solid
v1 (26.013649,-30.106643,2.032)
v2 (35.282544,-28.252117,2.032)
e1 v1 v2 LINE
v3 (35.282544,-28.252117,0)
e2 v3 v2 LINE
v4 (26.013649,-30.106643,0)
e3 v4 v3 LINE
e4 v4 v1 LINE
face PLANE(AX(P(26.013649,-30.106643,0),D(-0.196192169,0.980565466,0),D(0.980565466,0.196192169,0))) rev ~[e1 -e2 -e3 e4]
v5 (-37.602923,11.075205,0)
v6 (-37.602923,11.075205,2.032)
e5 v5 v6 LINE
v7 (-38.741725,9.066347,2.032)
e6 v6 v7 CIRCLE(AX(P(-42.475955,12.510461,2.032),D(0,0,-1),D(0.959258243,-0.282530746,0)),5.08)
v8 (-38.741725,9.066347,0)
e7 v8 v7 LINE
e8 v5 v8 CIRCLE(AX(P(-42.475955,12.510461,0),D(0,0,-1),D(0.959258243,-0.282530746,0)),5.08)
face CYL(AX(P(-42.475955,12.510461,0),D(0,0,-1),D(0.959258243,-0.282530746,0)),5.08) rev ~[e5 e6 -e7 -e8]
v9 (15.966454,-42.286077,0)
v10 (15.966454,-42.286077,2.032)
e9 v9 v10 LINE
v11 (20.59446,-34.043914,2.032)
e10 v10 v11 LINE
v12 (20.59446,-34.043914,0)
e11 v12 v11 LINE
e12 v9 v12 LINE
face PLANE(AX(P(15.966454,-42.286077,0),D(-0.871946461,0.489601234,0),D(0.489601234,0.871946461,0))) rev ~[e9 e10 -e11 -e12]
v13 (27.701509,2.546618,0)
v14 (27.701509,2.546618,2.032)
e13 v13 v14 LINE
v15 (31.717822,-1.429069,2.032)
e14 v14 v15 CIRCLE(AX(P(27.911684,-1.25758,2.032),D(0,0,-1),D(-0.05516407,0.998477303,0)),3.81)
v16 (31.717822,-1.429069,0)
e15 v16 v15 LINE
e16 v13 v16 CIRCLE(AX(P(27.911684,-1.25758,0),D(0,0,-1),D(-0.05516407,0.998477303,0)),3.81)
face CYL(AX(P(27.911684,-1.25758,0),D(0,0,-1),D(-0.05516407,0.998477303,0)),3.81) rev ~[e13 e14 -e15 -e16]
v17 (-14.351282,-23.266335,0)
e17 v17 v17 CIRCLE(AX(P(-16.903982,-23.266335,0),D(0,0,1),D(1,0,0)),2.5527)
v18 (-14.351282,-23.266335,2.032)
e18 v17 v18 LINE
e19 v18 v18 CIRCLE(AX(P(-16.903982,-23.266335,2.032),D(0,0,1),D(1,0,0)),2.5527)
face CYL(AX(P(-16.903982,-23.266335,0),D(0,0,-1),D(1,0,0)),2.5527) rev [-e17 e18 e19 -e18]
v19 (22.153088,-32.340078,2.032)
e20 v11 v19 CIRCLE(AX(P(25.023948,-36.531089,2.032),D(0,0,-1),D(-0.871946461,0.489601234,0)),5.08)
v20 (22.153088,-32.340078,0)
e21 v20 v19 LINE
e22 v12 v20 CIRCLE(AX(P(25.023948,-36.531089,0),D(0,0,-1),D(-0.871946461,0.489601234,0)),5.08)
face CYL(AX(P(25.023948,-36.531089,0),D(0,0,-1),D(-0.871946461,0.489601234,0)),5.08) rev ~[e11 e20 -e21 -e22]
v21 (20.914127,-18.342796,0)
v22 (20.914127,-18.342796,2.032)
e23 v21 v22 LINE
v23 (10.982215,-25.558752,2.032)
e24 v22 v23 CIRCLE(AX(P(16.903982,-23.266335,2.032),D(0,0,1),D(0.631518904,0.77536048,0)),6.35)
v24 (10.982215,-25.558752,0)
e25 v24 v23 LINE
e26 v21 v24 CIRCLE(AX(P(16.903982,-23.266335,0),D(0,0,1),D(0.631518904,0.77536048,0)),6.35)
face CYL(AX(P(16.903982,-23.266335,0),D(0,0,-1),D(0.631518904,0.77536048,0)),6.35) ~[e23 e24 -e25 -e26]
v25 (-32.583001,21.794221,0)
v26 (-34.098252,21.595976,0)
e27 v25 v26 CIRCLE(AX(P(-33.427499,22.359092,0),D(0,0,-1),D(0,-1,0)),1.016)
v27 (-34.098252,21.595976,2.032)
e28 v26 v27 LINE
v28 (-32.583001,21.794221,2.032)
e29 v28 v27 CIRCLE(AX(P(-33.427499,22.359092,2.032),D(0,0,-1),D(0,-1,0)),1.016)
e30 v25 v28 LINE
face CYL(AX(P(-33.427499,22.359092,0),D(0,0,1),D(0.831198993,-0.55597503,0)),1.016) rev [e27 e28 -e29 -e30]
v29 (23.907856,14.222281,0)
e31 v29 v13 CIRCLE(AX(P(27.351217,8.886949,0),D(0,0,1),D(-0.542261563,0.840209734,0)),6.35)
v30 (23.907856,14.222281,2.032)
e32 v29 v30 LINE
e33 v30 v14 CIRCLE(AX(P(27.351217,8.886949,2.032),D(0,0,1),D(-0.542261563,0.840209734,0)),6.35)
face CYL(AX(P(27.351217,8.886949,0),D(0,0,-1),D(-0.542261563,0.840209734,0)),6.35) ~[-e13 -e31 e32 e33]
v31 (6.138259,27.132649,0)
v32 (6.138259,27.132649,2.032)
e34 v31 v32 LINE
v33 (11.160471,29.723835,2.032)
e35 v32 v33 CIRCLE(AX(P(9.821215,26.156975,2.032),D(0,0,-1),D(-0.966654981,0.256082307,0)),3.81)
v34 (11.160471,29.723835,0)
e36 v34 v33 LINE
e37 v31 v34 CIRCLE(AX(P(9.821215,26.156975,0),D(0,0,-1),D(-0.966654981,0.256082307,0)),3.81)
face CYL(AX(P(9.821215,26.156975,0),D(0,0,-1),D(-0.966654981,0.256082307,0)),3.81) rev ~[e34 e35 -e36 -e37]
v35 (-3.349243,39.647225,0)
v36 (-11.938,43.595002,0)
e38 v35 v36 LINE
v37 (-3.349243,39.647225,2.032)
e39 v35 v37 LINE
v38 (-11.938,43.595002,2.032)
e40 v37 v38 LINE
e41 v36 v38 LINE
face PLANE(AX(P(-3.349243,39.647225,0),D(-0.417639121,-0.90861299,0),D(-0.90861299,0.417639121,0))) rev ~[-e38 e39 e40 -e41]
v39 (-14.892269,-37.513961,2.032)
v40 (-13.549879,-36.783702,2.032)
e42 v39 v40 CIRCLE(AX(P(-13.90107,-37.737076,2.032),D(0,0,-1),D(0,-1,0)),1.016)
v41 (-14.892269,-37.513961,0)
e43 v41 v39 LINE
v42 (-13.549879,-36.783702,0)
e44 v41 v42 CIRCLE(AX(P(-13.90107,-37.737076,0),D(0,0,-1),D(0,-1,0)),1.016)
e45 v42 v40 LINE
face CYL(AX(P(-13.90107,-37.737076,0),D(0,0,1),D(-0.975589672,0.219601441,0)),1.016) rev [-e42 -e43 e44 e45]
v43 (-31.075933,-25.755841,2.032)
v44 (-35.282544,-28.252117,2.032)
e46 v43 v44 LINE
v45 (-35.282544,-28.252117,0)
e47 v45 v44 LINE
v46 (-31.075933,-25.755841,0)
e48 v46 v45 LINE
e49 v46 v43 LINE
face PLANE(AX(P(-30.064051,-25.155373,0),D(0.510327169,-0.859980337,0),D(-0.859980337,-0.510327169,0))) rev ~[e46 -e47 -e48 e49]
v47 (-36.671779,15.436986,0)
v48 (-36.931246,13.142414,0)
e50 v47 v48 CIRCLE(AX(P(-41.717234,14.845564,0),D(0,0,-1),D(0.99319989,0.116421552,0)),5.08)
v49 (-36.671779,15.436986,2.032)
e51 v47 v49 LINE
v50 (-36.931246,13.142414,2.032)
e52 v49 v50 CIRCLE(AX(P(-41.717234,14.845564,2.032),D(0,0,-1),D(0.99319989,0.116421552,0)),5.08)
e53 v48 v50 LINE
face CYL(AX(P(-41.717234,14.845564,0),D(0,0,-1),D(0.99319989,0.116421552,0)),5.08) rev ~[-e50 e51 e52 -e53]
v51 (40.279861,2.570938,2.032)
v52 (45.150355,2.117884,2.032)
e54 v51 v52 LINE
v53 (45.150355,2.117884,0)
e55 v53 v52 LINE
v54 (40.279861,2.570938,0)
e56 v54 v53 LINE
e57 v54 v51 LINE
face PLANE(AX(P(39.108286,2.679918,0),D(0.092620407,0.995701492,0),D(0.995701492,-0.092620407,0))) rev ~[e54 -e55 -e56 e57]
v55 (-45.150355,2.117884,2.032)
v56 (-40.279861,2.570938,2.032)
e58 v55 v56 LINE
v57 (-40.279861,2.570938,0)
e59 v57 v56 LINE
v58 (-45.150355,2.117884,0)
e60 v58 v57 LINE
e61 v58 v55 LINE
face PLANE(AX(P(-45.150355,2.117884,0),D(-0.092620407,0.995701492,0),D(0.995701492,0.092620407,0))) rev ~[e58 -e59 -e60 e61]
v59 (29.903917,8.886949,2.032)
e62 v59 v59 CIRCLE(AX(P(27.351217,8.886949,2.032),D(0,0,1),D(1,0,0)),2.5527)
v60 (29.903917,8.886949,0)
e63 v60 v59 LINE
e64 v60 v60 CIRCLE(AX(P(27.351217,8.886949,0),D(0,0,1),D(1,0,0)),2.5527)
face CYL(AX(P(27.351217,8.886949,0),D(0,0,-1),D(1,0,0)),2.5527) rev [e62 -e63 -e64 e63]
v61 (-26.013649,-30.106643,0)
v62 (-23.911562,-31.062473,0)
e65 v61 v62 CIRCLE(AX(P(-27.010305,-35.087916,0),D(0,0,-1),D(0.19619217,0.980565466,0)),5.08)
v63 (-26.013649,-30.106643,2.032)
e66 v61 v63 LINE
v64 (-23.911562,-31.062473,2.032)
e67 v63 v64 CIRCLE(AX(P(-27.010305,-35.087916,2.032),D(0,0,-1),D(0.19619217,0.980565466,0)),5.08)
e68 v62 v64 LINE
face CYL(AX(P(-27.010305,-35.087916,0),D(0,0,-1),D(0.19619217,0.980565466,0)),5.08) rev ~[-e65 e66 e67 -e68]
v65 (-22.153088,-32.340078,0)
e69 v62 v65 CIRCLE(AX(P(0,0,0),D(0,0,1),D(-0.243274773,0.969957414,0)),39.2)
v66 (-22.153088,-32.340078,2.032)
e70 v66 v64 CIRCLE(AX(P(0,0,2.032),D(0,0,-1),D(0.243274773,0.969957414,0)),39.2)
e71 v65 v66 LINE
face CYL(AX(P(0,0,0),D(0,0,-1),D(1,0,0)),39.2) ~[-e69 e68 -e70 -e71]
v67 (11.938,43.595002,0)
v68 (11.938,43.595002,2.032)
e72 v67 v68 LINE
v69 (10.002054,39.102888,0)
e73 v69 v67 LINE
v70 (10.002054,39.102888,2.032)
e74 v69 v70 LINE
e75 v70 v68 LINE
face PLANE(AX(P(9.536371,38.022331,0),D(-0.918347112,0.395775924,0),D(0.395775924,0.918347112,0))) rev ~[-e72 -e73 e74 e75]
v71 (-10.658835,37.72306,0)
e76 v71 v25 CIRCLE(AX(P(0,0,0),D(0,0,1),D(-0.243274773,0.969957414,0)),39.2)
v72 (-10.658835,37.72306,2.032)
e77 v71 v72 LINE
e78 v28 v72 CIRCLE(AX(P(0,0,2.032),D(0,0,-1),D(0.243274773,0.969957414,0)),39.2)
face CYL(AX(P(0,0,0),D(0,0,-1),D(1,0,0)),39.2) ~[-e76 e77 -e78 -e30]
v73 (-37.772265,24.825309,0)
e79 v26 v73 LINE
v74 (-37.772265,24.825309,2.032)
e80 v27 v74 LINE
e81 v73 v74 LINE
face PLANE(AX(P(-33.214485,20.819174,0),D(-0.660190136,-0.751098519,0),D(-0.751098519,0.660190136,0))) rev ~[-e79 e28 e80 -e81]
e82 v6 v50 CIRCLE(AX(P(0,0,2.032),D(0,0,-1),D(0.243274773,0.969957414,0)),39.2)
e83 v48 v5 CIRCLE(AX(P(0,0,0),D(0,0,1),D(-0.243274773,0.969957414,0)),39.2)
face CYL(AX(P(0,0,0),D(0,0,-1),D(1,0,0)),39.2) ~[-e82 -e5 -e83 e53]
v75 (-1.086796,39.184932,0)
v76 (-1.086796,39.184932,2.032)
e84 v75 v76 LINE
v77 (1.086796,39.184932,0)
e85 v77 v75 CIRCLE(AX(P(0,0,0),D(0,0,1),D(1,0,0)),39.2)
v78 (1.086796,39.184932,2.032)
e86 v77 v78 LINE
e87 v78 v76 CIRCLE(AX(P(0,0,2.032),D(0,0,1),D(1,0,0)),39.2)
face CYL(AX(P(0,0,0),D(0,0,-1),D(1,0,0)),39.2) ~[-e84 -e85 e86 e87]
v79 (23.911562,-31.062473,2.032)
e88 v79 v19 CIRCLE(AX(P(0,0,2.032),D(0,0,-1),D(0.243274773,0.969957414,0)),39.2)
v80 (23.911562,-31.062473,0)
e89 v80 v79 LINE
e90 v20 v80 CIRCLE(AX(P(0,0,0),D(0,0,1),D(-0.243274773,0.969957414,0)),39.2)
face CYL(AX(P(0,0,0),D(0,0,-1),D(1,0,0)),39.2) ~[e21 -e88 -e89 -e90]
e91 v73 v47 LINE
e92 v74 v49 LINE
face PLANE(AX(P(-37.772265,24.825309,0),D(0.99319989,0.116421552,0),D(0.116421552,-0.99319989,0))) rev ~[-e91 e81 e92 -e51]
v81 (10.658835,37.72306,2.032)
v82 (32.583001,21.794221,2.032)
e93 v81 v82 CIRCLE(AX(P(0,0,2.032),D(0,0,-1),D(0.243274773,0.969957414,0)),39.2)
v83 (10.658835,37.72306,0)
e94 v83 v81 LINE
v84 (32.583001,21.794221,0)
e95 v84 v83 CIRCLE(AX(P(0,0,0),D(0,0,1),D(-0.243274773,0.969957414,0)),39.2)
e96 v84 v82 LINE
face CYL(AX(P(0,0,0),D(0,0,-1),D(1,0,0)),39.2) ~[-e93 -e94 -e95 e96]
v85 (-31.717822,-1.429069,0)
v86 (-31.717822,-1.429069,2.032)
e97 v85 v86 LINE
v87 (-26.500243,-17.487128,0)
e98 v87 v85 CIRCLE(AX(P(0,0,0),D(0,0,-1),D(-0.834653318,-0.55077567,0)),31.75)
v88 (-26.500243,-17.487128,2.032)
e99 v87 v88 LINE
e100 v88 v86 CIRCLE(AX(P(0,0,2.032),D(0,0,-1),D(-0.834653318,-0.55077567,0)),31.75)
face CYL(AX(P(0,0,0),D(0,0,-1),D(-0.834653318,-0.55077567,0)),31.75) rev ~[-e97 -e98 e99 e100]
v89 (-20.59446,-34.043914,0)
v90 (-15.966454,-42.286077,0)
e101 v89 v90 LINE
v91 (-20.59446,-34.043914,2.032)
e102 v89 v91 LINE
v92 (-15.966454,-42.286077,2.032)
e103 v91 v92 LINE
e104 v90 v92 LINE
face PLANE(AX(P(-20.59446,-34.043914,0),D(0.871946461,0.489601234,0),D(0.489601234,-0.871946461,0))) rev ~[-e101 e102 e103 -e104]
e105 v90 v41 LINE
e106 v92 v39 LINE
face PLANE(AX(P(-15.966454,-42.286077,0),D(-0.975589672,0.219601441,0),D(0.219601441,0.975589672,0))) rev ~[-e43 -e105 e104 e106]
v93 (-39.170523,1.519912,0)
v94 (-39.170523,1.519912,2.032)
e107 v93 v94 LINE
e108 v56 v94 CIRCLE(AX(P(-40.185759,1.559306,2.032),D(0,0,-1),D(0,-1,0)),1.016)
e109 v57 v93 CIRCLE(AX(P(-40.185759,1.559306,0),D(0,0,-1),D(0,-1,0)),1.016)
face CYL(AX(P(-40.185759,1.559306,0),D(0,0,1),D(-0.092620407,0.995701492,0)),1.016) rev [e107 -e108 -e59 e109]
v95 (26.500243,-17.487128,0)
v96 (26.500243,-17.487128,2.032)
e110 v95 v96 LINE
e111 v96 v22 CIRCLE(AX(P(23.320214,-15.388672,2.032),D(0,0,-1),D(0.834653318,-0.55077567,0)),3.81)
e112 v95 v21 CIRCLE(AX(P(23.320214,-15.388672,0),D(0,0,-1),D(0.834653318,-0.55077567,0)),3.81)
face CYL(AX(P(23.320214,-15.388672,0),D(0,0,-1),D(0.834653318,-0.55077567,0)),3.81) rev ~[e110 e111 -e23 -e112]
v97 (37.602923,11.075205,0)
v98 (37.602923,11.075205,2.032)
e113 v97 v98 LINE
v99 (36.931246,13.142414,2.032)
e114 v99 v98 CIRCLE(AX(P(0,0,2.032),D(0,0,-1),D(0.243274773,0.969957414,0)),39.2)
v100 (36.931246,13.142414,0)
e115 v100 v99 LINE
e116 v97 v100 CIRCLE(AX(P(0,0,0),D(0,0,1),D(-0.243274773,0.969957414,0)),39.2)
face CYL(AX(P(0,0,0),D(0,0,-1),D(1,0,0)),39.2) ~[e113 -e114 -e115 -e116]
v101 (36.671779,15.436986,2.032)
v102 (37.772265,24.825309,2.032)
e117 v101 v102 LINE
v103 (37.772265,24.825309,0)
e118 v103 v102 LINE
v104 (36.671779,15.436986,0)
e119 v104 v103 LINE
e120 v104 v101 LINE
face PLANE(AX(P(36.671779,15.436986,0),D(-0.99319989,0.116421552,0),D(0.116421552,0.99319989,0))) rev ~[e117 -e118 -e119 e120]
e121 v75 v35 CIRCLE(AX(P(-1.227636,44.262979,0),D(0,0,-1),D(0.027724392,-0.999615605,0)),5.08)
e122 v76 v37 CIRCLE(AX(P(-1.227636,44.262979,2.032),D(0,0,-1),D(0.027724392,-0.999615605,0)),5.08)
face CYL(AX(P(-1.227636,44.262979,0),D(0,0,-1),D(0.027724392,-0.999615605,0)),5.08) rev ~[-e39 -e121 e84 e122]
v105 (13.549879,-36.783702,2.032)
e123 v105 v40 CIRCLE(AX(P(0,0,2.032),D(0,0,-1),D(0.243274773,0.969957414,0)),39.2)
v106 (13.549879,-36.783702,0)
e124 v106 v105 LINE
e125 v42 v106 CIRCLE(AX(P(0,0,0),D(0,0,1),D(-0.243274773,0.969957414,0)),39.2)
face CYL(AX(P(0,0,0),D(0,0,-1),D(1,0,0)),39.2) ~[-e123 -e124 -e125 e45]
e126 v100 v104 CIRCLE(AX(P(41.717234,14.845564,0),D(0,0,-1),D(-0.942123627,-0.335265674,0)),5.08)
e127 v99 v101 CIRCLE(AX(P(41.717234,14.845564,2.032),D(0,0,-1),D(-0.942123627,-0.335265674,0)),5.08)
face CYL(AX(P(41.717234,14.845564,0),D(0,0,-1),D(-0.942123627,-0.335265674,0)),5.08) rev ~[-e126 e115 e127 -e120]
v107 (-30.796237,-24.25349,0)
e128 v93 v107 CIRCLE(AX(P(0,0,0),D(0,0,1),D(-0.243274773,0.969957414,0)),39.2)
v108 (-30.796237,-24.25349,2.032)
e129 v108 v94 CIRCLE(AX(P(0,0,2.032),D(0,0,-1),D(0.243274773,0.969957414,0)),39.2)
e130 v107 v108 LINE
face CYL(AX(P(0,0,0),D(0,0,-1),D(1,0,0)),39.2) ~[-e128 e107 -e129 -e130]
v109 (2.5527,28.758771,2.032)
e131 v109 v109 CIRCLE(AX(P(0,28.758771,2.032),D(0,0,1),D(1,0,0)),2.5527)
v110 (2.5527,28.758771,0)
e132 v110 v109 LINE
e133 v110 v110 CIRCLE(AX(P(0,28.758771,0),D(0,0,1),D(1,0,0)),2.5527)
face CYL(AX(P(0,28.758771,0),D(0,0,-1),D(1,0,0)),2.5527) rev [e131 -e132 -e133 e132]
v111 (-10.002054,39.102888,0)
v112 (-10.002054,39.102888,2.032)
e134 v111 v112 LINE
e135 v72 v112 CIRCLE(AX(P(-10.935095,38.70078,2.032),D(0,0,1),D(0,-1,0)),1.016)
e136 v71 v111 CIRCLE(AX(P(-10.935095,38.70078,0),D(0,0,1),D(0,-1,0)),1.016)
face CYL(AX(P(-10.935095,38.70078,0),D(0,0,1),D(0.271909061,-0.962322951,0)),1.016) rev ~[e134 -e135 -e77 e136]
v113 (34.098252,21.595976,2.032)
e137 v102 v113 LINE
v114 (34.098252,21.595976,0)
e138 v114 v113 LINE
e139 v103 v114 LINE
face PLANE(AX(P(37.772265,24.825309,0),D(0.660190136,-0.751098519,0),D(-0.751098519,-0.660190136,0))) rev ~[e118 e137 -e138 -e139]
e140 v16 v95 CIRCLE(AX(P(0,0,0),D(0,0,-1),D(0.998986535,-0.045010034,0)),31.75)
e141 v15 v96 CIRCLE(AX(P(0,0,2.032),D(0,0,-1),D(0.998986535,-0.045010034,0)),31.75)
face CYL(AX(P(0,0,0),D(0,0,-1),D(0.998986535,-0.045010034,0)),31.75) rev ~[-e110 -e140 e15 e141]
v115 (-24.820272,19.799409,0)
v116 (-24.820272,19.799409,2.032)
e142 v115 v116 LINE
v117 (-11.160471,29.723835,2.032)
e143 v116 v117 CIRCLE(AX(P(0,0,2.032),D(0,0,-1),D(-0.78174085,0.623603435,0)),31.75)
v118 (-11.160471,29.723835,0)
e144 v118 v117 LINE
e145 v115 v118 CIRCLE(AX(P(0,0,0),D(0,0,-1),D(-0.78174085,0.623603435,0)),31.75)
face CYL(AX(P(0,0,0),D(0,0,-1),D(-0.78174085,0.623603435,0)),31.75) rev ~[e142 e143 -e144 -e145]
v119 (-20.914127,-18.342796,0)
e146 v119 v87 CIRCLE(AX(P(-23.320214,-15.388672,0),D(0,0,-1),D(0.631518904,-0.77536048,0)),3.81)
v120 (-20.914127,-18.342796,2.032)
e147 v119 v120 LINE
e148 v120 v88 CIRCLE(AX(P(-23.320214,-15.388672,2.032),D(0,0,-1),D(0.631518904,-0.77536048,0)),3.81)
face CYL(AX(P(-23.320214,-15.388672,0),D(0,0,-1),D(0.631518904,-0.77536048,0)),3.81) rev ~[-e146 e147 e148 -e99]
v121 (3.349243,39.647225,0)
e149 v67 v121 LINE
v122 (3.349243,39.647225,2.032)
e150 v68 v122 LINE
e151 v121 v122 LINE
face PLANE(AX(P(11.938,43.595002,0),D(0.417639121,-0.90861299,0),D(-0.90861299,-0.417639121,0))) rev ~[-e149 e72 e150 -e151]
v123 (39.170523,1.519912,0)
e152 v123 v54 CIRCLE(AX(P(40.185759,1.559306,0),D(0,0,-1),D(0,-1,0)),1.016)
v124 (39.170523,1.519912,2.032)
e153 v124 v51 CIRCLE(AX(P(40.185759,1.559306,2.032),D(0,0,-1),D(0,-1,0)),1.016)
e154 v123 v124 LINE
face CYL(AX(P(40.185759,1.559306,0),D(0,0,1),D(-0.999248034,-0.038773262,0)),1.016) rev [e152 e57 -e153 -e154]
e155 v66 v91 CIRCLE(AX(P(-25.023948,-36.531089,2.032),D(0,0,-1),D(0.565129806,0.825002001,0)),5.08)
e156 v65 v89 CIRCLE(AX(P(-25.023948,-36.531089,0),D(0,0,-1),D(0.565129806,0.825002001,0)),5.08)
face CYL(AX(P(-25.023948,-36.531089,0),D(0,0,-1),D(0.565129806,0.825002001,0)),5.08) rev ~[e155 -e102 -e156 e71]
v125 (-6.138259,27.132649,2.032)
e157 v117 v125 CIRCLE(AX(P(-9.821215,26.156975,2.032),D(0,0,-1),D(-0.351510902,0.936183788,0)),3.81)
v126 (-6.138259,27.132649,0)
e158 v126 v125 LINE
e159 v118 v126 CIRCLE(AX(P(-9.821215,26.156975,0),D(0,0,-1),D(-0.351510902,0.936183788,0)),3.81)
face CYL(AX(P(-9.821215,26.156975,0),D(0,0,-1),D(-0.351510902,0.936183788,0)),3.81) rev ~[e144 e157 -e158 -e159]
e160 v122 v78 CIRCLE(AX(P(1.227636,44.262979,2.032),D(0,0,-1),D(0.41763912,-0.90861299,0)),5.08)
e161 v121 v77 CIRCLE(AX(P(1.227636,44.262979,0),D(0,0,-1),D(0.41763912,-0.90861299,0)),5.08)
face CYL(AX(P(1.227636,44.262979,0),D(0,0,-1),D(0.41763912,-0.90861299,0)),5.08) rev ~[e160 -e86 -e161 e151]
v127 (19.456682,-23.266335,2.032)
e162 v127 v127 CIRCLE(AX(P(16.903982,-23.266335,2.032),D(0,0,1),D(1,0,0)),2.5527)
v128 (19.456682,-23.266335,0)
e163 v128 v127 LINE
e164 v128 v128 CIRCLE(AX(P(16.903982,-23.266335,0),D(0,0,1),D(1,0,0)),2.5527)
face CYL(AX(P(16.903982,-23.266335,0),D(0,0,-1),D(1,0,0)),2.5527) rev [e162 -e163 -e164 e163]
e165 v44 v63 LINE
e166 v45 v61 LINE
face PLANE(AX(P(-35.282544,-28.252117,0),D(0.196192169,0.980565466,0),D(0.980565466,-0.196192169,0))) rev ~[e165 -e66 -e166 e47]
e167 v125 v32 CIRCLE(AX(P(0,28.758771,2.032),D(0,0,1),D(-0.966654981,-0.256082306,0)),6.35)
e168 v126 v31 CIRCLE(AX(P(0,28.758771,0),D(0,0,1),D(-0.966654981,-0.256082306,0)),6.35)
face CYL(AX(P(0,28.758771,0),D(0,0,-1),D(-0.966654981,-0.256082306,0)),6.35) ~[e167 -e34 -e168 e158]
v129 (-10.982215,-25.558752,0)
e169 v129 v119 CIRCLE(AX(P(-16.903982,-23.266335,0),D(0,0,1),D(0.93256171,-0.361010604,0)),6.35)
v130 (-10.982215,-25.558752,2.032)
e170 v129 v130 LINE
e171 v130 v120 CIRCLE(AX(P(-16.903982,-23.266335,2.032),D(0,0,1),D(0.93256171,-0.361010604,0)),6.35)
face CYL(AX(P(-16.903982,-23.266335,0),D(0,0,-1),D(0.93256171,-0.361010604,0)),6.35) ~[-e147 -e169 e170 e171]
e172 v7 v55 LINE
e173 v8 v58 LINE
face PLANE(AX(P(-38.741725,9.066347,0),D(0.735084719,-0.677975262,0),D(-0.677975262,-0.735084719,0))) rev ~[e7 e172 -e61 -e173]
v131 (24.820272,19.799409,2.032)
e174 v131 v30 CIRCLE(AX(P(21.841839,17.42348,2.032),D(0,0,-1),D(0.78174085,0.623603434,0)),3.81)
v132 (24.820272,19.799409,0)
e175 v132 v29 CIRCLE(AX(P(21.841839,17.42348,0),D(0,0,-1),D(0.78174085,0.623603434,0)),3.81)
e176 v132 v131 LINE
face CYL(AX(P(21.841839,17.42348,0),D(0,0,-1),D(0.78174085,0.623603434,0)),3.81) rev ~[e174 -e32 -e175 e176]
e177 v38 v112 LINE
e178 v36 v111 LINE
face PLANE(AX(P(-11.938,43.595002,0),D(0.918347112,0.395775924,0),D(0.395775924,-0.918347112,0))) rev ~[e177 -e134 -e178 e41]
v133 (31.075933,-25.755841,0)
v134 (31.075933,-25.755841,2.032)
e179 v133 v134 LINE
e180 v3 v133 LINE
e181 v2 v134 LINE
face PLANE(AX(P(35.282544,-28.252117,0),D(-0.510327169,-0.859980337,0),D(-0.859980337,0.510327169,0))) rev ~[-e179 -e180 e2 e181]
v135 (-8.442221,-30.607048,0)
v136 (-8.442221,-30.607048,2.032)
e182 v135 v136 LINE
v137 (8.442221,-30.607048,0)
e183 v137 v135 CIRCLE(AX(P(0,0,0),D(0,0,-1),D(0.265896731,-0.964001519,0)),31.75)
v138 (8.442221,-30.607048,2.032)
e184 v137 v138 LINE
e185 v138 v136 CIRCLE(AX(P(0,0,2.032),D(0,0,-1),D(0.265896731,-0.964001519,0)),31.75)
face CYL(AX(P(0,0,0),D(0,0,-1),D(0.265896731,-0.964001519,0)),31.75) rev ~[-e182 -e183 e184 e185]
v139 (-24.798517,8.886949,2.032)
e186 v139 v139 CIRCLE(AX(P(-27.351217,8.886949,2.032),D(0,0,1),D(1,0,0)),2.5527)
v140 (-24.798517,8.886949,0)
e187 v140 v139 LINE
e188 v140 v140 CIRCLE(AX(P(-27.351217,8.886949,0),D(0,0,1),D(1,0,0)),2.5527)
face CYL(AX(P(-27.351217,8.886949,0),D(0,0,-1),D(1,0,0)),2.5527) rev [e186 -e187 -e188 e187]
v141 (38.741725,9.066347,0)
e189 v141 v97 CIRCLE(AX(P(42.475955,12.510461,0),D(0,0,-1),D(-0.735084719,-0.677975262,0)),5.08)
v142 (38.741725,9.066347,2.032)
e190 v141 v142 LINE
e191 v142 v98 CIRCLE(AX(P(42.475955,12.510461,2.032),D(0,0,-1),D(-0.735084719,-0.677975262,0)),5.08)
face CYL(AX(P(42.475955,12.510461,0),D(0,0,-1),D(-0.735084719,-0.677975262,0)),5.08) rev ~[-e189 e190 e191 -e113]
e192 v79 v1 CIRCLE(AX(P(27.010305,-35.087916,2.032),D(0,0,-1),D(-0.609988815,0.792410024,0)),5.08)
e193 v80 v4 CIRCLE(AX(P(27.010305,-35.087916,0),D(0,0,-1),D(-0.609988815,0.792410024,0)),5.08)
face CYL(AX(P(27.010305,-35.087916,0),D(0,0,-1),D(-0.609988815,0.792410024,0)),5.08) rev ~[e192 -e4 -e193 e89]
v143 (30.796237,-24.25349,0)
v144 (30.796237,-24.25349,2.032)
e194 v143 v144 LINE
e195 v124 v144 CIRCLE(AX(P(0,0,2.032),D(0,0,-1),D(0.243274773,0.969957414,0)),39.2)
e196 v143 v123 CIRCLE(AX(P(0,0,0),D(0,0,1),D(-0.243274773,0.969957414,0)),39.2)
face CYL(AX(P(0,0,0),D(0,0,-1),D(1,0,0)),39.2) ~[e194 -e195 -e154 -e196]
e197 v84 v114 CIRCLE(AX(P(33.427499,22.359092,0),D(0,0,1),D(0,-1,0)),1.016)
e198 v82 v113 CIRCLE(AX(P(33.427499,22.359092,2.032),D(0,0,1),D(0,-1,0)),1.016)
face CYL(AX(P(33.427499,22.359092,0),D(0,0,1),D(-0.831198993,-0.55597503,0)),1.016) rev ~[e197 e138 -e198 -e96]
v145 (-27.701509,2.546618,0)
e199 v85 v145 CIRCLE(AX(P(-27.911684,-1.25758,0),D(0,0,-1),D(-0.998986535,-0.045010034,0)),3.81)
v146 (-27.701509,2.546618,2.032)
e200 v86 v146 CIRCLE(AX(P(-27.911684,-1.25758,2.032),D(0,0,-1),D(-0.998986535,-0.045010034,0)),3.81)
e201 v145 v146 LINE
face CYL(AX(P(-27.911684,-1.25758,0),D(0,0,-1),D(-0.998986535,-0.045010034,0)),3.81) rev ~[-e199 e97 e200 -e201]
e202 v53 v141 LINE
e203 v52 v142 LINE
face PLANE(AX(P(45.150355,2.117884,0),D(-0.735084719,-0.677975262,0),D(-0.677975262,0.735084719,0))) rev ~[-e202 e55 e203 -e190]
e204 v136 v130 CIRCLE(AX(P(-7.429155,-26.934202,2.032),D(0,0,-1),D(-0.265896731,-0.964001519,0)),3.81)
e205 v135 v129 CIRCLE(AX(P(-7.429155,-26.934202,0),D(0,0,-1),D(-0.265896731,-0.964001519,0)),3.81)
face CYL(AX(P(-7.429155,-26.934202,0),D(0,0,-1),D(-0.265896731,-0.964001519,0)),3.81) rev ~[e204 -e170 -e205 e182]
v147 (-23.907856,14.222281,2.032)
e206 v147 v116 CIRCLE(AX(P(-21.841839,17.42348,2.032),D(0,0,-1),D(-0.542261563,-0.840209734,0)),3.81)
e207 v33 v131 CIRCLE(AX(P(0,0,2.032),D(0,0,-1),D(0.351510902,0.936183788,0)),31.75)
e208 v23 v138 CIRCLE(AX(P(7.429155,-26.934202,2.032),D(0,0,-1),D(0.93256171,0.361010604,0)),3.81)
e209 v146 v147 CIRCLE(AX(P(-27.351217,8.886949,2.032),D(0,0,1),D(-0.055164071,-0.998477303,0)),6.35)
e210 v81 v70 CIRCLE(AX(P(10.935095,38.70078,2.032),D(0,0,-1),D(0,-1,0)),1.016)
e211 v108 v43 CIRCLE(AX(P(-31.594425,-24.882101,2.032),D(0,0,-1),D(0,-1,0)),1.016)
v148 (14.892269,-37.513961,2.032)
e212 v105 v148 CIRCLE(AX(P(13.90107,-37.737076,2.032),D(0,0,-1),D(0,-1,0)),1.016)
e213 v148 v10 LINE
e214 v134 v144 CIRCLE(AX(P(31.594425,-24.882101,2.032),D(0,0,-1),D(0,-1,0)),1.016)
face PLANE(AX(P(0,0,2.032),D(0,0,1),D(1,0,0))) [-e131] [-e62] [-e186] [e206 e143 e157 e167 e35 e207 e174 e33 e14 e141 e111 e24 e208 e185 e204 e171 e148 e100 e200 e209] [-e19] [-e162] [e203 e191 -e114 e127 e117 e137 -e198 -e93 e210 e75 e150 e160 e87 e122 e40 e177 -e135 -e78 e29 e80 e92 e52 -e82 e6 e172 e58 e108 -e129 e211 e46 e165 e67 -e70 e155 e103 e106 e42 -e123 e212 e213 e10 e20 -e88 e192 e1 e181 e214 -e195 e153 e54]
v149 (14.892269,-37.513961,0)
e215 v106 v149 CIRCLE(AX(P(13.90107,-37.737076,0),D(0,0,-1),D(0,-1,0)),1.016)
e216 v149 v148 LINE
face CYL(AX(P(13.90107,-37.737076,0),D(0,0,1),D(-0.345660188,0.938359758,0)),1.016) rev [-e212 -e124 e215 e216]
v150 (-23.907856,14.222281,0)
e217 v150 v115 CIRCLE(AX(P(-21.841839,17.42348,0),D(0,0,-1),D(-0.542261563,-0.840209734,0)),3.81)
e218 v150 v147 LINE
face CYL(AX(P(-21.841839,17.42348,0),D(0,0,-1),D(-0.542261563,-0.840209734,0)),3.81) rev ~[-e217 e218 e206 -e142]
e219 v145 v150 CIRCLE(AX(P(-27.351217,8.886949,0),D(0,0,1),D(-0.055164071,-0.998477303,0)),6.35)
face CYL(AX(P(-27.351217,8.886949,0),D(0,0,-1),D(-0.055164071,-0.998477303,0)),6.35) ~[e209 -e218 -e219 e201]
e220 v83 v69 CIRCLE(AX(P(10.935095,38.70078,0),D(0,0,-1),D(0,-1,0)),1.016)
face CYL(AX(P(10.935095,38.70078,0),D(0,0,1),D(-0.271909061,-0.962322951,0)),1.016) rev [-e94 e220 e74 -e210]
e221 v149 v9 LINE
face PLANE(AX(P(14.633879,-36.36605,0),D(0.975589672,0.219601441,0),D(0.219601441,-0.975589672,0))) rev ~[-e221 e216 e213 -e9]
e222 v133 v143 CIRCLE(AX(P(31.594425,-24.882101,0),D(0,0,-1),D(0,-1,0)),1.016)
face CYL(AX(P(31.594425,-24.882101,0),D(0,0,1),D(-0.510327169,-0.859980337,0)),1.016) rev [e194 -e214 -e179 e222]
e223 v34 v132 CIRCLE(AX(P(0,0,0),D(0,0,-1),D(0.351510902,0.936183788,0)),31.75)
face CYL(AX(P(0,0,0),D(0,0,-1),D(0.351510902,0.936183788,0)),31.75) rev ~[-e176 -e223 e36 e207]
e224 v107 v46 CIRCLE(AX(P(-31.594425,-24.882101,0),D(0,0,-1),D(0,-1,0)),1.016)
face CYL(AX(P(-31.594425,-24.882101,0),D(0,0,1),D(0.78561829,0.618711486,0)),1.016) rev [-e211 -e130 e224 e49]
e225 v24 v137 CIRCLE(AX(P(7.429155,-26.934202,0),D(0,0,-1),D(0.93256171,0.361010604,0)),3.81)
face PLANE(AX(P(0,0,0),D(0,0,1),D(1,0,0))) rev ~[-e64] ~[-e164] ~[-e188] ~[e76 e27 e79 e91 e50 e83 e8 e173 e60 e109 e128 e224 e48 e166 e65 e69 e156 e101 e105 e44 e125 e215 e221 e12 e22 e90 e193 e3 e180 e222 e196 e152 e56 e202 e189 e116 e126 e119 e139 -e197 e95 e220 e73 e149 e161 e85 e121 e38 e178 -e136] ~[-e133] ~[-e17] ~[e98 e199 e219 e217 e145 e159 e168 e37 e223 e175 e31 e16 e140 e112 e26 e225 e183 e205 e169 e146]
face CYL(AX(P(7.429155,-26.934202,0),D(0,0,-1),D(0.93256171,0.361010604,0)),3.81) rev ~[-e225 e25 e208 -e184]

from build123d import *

# Parameters (mm, degrees)
SKETCH1_R                = 39.2
SKETCH1_R_2              = 2.5527
BOSS_EXTRUDE1_DEPTH      = 2.032
BOSS_EXTRUDE5_DEPTH      = 2.032
FILLET2_R                = 1.016
CIRPATTERN2_COUNT        = 5
FILLET2_OF_CIRPATTERN2_R = 1.016


with BuildPart() as part:
    # Sketch1 → Boss-Extrude1 (new body)
    with BuildSketch(Plane.XY):
        Circle(SKETCH1_R)
        with BuildLine():
            ThreePointArc((24.820271985, 19.799409047), (25.601853519, 16.808343049), (23.907855902, 14.222280874))
            ThreePointArc((23.907855902, 14.222280874), (21.312007949, 6.924691149), (27.701508676, 2.546618187))
            ThreePointArc((27.701508676, 2.546618187), (30.592030744, 1.450156756), (31.717822482, -1.429068567))
            ThreePointArc((31.717822482, -1.429068567), (30.196044392, -9.811289571), (26.500242841, -17.487127533))
            ThreePointArc((26.500242841, -17.487127533), (23.89709201, -19.154745969), (20.914126675, -18.342795657))
            ThreePointArc((20.914126675, -18.342795657), (13.171545281, -18.12907679), (10.982214772, -25.558752039))
            ThreePointArc((10.982214772, -25.558752039), (10.832638425, -28.646627104), (8.442221199, -30.607048228))
            ThreePointArc((8.442221199, -30.607048228), (0, -31.75), (-8.442221199, -30.607048228))
            ThreePointArc((-8.442221199, -30.607048228), (-10.832638425, -28.646627104), (-10.982214772, -25.558752039))
            ThreePointArc((-10.982214772, -25.558752039), (-13.171545281, -18.12907679), (-20.914126675, -18.342795657))
            ThreePointArc((-20.914126675, -18.342795657), (-23.89709201, -19.154745969), (-26.500242841, -17.487127533))
            ThreePointArc((-26.500242841, -17.487127533), (-30.196044392, -9.811289571), (-31.717822482, -1.429068567))
            ThreePointArc((-31.717822482, -1.429068567), (-30.592030744, 1.450156756), (-27.701508676, 2.546618187))
            ThreePointArc((-27.701508676, 2.546618187), (-21.312007949, 6.924691149), (-23.907855902, 14.222280874))
            ThreePointArc((-23.907855902, 14.222280874), (-25.601853519, 16.808343049), (-24.820271985, 19.799409047))
            ThreePointArc((-24.820271985, 19.799409047), (-18.66218176, 25.686289571), (-11.160471144, 29.723835281))
            ThreePointArc((-11.160471144, 29.723835281), (-8.07427636, 29.542873268), (-6.138259129, 27.132648635))
            ThreePointArc((-6.138259129, 27.132648635), (0, 22.408771281), (6.138259129, 27.132648635))
            ThreePointArc((6.138259129, 27.132648635), (8.07427636, 29.542873268), (11.160471144, 29.723835281))
            ThreePointArc((11.160471144, 29.723835281), (18.66218176, 25.686289571), (24.820271985, 19.799409047))
        make_face(mode=Mode.SUBTRACT)
        with Locations((27.351216828, 8.886949063)):
            Circle(SKETCH1_R_2, mode=Mode.SUBTRACT)
        with Locations((0, 28.758771281)):
            Circle(SKETCH1_R_2, mode=Mode.SUBTRACT)
        with Locations((16.903981633, -23.266334704)):
            Circle(SKETCH1_R_2, mode=Mode.SUBTRACT)
        with Locations((-27.351216828, 8.886949063)):
            Circle(SKETCH1_R_2, mode=Mode.SUBTRACT)
        with Locations((-16.903981633, -23.266334704)):
            Circle(SKETCH1_R_2, mode=Mode.SUBTRACT)
    extrude(amount=BOSS_EXTRUDE1_DEPTH)

    # Sketch1<5> → Boss-Extrude5 (add)
    with BuildSketch(Plane.XY):
        with BuildLine():
            Line((-11.938, 43.595001502), (-9.536371101, 38.022330626))
            ThreePointArc((-9.536371101, 38.022330626), (-5.343297764, 38.83412377), (-1.086796161, 39.184931723))
            ThreePointArc((-1.086796161, 39.184931723), (-2.244635615, 39.285819975), (-3.349242804, 39.647225009))
            Line((-3.349242804, 39.647225009), (-11.938, 43.595001502))
        make_face()
        with BuildLine():
            ThreePointArc((3.349242804, 39.647225009), (2.244635615, 39.285819975), (1.086796161, 39.184931723))
            ThreePointArc((1.086796161, 39.184931723), (5.343297764, 38.83412377), (9.536371101, 38.022330626))
            Line((9.536371101, 38.022330626), (11.938, 43.595001502))
            Line((11.938, 43.595001502), (3.349242804, 39.647225009))
        make_face()
    boss_extrude5 = extrude(amount=BOSS_EXTRUDE5_DEPTH)

    # Fillet2
    fillet2_edges = [part.edges().sort_by_distance(p)[0] for p in [
        (-9.536371101, 38.022330626, 1.016),
        (9.536371101, 38.022330626, 1.016),
    ]]
    fillet(fillet2_edges, radius=FILLET2_R)

    # CirPattern2: Boss-Extrude5 ×5 about axis
    cirpattern2_axis = Axis((0, 0, 0), (0, 0, 1))
    for i in range(1, CIRPATTERN2_COUNT):
        add(boss_extrude5.rotate(cirpattern2_axis, i * 360 / CIRPATTERN2_COUNT))

    # Fillet2 of CirPattern2
    fillet2_of_cirpattern2_edges = [part.edges().sort_by_distance(p)[0] for p in [
        (-39.108286041, 2.679918452, 1.016),
        (-33.214484572, 20.819174207, 1.016),
        (-14.633878914, -36.366049936, 1.016),
        (-30.064051485, -25.155373348, 1.016),
        (30.064051485, -25.155373348, 1.016),
        (14.633878914, -36.366049936, 1.016),
        (33.214484572, 20.819174207, 1.016),
        (39.108286041, 2.679918452, 1.016),
    ]]
    fillet(fillet2_of_cirpattern2_edges, radius=FILLET2_OF_CIRPATTERN2_R)


solid = part.part
